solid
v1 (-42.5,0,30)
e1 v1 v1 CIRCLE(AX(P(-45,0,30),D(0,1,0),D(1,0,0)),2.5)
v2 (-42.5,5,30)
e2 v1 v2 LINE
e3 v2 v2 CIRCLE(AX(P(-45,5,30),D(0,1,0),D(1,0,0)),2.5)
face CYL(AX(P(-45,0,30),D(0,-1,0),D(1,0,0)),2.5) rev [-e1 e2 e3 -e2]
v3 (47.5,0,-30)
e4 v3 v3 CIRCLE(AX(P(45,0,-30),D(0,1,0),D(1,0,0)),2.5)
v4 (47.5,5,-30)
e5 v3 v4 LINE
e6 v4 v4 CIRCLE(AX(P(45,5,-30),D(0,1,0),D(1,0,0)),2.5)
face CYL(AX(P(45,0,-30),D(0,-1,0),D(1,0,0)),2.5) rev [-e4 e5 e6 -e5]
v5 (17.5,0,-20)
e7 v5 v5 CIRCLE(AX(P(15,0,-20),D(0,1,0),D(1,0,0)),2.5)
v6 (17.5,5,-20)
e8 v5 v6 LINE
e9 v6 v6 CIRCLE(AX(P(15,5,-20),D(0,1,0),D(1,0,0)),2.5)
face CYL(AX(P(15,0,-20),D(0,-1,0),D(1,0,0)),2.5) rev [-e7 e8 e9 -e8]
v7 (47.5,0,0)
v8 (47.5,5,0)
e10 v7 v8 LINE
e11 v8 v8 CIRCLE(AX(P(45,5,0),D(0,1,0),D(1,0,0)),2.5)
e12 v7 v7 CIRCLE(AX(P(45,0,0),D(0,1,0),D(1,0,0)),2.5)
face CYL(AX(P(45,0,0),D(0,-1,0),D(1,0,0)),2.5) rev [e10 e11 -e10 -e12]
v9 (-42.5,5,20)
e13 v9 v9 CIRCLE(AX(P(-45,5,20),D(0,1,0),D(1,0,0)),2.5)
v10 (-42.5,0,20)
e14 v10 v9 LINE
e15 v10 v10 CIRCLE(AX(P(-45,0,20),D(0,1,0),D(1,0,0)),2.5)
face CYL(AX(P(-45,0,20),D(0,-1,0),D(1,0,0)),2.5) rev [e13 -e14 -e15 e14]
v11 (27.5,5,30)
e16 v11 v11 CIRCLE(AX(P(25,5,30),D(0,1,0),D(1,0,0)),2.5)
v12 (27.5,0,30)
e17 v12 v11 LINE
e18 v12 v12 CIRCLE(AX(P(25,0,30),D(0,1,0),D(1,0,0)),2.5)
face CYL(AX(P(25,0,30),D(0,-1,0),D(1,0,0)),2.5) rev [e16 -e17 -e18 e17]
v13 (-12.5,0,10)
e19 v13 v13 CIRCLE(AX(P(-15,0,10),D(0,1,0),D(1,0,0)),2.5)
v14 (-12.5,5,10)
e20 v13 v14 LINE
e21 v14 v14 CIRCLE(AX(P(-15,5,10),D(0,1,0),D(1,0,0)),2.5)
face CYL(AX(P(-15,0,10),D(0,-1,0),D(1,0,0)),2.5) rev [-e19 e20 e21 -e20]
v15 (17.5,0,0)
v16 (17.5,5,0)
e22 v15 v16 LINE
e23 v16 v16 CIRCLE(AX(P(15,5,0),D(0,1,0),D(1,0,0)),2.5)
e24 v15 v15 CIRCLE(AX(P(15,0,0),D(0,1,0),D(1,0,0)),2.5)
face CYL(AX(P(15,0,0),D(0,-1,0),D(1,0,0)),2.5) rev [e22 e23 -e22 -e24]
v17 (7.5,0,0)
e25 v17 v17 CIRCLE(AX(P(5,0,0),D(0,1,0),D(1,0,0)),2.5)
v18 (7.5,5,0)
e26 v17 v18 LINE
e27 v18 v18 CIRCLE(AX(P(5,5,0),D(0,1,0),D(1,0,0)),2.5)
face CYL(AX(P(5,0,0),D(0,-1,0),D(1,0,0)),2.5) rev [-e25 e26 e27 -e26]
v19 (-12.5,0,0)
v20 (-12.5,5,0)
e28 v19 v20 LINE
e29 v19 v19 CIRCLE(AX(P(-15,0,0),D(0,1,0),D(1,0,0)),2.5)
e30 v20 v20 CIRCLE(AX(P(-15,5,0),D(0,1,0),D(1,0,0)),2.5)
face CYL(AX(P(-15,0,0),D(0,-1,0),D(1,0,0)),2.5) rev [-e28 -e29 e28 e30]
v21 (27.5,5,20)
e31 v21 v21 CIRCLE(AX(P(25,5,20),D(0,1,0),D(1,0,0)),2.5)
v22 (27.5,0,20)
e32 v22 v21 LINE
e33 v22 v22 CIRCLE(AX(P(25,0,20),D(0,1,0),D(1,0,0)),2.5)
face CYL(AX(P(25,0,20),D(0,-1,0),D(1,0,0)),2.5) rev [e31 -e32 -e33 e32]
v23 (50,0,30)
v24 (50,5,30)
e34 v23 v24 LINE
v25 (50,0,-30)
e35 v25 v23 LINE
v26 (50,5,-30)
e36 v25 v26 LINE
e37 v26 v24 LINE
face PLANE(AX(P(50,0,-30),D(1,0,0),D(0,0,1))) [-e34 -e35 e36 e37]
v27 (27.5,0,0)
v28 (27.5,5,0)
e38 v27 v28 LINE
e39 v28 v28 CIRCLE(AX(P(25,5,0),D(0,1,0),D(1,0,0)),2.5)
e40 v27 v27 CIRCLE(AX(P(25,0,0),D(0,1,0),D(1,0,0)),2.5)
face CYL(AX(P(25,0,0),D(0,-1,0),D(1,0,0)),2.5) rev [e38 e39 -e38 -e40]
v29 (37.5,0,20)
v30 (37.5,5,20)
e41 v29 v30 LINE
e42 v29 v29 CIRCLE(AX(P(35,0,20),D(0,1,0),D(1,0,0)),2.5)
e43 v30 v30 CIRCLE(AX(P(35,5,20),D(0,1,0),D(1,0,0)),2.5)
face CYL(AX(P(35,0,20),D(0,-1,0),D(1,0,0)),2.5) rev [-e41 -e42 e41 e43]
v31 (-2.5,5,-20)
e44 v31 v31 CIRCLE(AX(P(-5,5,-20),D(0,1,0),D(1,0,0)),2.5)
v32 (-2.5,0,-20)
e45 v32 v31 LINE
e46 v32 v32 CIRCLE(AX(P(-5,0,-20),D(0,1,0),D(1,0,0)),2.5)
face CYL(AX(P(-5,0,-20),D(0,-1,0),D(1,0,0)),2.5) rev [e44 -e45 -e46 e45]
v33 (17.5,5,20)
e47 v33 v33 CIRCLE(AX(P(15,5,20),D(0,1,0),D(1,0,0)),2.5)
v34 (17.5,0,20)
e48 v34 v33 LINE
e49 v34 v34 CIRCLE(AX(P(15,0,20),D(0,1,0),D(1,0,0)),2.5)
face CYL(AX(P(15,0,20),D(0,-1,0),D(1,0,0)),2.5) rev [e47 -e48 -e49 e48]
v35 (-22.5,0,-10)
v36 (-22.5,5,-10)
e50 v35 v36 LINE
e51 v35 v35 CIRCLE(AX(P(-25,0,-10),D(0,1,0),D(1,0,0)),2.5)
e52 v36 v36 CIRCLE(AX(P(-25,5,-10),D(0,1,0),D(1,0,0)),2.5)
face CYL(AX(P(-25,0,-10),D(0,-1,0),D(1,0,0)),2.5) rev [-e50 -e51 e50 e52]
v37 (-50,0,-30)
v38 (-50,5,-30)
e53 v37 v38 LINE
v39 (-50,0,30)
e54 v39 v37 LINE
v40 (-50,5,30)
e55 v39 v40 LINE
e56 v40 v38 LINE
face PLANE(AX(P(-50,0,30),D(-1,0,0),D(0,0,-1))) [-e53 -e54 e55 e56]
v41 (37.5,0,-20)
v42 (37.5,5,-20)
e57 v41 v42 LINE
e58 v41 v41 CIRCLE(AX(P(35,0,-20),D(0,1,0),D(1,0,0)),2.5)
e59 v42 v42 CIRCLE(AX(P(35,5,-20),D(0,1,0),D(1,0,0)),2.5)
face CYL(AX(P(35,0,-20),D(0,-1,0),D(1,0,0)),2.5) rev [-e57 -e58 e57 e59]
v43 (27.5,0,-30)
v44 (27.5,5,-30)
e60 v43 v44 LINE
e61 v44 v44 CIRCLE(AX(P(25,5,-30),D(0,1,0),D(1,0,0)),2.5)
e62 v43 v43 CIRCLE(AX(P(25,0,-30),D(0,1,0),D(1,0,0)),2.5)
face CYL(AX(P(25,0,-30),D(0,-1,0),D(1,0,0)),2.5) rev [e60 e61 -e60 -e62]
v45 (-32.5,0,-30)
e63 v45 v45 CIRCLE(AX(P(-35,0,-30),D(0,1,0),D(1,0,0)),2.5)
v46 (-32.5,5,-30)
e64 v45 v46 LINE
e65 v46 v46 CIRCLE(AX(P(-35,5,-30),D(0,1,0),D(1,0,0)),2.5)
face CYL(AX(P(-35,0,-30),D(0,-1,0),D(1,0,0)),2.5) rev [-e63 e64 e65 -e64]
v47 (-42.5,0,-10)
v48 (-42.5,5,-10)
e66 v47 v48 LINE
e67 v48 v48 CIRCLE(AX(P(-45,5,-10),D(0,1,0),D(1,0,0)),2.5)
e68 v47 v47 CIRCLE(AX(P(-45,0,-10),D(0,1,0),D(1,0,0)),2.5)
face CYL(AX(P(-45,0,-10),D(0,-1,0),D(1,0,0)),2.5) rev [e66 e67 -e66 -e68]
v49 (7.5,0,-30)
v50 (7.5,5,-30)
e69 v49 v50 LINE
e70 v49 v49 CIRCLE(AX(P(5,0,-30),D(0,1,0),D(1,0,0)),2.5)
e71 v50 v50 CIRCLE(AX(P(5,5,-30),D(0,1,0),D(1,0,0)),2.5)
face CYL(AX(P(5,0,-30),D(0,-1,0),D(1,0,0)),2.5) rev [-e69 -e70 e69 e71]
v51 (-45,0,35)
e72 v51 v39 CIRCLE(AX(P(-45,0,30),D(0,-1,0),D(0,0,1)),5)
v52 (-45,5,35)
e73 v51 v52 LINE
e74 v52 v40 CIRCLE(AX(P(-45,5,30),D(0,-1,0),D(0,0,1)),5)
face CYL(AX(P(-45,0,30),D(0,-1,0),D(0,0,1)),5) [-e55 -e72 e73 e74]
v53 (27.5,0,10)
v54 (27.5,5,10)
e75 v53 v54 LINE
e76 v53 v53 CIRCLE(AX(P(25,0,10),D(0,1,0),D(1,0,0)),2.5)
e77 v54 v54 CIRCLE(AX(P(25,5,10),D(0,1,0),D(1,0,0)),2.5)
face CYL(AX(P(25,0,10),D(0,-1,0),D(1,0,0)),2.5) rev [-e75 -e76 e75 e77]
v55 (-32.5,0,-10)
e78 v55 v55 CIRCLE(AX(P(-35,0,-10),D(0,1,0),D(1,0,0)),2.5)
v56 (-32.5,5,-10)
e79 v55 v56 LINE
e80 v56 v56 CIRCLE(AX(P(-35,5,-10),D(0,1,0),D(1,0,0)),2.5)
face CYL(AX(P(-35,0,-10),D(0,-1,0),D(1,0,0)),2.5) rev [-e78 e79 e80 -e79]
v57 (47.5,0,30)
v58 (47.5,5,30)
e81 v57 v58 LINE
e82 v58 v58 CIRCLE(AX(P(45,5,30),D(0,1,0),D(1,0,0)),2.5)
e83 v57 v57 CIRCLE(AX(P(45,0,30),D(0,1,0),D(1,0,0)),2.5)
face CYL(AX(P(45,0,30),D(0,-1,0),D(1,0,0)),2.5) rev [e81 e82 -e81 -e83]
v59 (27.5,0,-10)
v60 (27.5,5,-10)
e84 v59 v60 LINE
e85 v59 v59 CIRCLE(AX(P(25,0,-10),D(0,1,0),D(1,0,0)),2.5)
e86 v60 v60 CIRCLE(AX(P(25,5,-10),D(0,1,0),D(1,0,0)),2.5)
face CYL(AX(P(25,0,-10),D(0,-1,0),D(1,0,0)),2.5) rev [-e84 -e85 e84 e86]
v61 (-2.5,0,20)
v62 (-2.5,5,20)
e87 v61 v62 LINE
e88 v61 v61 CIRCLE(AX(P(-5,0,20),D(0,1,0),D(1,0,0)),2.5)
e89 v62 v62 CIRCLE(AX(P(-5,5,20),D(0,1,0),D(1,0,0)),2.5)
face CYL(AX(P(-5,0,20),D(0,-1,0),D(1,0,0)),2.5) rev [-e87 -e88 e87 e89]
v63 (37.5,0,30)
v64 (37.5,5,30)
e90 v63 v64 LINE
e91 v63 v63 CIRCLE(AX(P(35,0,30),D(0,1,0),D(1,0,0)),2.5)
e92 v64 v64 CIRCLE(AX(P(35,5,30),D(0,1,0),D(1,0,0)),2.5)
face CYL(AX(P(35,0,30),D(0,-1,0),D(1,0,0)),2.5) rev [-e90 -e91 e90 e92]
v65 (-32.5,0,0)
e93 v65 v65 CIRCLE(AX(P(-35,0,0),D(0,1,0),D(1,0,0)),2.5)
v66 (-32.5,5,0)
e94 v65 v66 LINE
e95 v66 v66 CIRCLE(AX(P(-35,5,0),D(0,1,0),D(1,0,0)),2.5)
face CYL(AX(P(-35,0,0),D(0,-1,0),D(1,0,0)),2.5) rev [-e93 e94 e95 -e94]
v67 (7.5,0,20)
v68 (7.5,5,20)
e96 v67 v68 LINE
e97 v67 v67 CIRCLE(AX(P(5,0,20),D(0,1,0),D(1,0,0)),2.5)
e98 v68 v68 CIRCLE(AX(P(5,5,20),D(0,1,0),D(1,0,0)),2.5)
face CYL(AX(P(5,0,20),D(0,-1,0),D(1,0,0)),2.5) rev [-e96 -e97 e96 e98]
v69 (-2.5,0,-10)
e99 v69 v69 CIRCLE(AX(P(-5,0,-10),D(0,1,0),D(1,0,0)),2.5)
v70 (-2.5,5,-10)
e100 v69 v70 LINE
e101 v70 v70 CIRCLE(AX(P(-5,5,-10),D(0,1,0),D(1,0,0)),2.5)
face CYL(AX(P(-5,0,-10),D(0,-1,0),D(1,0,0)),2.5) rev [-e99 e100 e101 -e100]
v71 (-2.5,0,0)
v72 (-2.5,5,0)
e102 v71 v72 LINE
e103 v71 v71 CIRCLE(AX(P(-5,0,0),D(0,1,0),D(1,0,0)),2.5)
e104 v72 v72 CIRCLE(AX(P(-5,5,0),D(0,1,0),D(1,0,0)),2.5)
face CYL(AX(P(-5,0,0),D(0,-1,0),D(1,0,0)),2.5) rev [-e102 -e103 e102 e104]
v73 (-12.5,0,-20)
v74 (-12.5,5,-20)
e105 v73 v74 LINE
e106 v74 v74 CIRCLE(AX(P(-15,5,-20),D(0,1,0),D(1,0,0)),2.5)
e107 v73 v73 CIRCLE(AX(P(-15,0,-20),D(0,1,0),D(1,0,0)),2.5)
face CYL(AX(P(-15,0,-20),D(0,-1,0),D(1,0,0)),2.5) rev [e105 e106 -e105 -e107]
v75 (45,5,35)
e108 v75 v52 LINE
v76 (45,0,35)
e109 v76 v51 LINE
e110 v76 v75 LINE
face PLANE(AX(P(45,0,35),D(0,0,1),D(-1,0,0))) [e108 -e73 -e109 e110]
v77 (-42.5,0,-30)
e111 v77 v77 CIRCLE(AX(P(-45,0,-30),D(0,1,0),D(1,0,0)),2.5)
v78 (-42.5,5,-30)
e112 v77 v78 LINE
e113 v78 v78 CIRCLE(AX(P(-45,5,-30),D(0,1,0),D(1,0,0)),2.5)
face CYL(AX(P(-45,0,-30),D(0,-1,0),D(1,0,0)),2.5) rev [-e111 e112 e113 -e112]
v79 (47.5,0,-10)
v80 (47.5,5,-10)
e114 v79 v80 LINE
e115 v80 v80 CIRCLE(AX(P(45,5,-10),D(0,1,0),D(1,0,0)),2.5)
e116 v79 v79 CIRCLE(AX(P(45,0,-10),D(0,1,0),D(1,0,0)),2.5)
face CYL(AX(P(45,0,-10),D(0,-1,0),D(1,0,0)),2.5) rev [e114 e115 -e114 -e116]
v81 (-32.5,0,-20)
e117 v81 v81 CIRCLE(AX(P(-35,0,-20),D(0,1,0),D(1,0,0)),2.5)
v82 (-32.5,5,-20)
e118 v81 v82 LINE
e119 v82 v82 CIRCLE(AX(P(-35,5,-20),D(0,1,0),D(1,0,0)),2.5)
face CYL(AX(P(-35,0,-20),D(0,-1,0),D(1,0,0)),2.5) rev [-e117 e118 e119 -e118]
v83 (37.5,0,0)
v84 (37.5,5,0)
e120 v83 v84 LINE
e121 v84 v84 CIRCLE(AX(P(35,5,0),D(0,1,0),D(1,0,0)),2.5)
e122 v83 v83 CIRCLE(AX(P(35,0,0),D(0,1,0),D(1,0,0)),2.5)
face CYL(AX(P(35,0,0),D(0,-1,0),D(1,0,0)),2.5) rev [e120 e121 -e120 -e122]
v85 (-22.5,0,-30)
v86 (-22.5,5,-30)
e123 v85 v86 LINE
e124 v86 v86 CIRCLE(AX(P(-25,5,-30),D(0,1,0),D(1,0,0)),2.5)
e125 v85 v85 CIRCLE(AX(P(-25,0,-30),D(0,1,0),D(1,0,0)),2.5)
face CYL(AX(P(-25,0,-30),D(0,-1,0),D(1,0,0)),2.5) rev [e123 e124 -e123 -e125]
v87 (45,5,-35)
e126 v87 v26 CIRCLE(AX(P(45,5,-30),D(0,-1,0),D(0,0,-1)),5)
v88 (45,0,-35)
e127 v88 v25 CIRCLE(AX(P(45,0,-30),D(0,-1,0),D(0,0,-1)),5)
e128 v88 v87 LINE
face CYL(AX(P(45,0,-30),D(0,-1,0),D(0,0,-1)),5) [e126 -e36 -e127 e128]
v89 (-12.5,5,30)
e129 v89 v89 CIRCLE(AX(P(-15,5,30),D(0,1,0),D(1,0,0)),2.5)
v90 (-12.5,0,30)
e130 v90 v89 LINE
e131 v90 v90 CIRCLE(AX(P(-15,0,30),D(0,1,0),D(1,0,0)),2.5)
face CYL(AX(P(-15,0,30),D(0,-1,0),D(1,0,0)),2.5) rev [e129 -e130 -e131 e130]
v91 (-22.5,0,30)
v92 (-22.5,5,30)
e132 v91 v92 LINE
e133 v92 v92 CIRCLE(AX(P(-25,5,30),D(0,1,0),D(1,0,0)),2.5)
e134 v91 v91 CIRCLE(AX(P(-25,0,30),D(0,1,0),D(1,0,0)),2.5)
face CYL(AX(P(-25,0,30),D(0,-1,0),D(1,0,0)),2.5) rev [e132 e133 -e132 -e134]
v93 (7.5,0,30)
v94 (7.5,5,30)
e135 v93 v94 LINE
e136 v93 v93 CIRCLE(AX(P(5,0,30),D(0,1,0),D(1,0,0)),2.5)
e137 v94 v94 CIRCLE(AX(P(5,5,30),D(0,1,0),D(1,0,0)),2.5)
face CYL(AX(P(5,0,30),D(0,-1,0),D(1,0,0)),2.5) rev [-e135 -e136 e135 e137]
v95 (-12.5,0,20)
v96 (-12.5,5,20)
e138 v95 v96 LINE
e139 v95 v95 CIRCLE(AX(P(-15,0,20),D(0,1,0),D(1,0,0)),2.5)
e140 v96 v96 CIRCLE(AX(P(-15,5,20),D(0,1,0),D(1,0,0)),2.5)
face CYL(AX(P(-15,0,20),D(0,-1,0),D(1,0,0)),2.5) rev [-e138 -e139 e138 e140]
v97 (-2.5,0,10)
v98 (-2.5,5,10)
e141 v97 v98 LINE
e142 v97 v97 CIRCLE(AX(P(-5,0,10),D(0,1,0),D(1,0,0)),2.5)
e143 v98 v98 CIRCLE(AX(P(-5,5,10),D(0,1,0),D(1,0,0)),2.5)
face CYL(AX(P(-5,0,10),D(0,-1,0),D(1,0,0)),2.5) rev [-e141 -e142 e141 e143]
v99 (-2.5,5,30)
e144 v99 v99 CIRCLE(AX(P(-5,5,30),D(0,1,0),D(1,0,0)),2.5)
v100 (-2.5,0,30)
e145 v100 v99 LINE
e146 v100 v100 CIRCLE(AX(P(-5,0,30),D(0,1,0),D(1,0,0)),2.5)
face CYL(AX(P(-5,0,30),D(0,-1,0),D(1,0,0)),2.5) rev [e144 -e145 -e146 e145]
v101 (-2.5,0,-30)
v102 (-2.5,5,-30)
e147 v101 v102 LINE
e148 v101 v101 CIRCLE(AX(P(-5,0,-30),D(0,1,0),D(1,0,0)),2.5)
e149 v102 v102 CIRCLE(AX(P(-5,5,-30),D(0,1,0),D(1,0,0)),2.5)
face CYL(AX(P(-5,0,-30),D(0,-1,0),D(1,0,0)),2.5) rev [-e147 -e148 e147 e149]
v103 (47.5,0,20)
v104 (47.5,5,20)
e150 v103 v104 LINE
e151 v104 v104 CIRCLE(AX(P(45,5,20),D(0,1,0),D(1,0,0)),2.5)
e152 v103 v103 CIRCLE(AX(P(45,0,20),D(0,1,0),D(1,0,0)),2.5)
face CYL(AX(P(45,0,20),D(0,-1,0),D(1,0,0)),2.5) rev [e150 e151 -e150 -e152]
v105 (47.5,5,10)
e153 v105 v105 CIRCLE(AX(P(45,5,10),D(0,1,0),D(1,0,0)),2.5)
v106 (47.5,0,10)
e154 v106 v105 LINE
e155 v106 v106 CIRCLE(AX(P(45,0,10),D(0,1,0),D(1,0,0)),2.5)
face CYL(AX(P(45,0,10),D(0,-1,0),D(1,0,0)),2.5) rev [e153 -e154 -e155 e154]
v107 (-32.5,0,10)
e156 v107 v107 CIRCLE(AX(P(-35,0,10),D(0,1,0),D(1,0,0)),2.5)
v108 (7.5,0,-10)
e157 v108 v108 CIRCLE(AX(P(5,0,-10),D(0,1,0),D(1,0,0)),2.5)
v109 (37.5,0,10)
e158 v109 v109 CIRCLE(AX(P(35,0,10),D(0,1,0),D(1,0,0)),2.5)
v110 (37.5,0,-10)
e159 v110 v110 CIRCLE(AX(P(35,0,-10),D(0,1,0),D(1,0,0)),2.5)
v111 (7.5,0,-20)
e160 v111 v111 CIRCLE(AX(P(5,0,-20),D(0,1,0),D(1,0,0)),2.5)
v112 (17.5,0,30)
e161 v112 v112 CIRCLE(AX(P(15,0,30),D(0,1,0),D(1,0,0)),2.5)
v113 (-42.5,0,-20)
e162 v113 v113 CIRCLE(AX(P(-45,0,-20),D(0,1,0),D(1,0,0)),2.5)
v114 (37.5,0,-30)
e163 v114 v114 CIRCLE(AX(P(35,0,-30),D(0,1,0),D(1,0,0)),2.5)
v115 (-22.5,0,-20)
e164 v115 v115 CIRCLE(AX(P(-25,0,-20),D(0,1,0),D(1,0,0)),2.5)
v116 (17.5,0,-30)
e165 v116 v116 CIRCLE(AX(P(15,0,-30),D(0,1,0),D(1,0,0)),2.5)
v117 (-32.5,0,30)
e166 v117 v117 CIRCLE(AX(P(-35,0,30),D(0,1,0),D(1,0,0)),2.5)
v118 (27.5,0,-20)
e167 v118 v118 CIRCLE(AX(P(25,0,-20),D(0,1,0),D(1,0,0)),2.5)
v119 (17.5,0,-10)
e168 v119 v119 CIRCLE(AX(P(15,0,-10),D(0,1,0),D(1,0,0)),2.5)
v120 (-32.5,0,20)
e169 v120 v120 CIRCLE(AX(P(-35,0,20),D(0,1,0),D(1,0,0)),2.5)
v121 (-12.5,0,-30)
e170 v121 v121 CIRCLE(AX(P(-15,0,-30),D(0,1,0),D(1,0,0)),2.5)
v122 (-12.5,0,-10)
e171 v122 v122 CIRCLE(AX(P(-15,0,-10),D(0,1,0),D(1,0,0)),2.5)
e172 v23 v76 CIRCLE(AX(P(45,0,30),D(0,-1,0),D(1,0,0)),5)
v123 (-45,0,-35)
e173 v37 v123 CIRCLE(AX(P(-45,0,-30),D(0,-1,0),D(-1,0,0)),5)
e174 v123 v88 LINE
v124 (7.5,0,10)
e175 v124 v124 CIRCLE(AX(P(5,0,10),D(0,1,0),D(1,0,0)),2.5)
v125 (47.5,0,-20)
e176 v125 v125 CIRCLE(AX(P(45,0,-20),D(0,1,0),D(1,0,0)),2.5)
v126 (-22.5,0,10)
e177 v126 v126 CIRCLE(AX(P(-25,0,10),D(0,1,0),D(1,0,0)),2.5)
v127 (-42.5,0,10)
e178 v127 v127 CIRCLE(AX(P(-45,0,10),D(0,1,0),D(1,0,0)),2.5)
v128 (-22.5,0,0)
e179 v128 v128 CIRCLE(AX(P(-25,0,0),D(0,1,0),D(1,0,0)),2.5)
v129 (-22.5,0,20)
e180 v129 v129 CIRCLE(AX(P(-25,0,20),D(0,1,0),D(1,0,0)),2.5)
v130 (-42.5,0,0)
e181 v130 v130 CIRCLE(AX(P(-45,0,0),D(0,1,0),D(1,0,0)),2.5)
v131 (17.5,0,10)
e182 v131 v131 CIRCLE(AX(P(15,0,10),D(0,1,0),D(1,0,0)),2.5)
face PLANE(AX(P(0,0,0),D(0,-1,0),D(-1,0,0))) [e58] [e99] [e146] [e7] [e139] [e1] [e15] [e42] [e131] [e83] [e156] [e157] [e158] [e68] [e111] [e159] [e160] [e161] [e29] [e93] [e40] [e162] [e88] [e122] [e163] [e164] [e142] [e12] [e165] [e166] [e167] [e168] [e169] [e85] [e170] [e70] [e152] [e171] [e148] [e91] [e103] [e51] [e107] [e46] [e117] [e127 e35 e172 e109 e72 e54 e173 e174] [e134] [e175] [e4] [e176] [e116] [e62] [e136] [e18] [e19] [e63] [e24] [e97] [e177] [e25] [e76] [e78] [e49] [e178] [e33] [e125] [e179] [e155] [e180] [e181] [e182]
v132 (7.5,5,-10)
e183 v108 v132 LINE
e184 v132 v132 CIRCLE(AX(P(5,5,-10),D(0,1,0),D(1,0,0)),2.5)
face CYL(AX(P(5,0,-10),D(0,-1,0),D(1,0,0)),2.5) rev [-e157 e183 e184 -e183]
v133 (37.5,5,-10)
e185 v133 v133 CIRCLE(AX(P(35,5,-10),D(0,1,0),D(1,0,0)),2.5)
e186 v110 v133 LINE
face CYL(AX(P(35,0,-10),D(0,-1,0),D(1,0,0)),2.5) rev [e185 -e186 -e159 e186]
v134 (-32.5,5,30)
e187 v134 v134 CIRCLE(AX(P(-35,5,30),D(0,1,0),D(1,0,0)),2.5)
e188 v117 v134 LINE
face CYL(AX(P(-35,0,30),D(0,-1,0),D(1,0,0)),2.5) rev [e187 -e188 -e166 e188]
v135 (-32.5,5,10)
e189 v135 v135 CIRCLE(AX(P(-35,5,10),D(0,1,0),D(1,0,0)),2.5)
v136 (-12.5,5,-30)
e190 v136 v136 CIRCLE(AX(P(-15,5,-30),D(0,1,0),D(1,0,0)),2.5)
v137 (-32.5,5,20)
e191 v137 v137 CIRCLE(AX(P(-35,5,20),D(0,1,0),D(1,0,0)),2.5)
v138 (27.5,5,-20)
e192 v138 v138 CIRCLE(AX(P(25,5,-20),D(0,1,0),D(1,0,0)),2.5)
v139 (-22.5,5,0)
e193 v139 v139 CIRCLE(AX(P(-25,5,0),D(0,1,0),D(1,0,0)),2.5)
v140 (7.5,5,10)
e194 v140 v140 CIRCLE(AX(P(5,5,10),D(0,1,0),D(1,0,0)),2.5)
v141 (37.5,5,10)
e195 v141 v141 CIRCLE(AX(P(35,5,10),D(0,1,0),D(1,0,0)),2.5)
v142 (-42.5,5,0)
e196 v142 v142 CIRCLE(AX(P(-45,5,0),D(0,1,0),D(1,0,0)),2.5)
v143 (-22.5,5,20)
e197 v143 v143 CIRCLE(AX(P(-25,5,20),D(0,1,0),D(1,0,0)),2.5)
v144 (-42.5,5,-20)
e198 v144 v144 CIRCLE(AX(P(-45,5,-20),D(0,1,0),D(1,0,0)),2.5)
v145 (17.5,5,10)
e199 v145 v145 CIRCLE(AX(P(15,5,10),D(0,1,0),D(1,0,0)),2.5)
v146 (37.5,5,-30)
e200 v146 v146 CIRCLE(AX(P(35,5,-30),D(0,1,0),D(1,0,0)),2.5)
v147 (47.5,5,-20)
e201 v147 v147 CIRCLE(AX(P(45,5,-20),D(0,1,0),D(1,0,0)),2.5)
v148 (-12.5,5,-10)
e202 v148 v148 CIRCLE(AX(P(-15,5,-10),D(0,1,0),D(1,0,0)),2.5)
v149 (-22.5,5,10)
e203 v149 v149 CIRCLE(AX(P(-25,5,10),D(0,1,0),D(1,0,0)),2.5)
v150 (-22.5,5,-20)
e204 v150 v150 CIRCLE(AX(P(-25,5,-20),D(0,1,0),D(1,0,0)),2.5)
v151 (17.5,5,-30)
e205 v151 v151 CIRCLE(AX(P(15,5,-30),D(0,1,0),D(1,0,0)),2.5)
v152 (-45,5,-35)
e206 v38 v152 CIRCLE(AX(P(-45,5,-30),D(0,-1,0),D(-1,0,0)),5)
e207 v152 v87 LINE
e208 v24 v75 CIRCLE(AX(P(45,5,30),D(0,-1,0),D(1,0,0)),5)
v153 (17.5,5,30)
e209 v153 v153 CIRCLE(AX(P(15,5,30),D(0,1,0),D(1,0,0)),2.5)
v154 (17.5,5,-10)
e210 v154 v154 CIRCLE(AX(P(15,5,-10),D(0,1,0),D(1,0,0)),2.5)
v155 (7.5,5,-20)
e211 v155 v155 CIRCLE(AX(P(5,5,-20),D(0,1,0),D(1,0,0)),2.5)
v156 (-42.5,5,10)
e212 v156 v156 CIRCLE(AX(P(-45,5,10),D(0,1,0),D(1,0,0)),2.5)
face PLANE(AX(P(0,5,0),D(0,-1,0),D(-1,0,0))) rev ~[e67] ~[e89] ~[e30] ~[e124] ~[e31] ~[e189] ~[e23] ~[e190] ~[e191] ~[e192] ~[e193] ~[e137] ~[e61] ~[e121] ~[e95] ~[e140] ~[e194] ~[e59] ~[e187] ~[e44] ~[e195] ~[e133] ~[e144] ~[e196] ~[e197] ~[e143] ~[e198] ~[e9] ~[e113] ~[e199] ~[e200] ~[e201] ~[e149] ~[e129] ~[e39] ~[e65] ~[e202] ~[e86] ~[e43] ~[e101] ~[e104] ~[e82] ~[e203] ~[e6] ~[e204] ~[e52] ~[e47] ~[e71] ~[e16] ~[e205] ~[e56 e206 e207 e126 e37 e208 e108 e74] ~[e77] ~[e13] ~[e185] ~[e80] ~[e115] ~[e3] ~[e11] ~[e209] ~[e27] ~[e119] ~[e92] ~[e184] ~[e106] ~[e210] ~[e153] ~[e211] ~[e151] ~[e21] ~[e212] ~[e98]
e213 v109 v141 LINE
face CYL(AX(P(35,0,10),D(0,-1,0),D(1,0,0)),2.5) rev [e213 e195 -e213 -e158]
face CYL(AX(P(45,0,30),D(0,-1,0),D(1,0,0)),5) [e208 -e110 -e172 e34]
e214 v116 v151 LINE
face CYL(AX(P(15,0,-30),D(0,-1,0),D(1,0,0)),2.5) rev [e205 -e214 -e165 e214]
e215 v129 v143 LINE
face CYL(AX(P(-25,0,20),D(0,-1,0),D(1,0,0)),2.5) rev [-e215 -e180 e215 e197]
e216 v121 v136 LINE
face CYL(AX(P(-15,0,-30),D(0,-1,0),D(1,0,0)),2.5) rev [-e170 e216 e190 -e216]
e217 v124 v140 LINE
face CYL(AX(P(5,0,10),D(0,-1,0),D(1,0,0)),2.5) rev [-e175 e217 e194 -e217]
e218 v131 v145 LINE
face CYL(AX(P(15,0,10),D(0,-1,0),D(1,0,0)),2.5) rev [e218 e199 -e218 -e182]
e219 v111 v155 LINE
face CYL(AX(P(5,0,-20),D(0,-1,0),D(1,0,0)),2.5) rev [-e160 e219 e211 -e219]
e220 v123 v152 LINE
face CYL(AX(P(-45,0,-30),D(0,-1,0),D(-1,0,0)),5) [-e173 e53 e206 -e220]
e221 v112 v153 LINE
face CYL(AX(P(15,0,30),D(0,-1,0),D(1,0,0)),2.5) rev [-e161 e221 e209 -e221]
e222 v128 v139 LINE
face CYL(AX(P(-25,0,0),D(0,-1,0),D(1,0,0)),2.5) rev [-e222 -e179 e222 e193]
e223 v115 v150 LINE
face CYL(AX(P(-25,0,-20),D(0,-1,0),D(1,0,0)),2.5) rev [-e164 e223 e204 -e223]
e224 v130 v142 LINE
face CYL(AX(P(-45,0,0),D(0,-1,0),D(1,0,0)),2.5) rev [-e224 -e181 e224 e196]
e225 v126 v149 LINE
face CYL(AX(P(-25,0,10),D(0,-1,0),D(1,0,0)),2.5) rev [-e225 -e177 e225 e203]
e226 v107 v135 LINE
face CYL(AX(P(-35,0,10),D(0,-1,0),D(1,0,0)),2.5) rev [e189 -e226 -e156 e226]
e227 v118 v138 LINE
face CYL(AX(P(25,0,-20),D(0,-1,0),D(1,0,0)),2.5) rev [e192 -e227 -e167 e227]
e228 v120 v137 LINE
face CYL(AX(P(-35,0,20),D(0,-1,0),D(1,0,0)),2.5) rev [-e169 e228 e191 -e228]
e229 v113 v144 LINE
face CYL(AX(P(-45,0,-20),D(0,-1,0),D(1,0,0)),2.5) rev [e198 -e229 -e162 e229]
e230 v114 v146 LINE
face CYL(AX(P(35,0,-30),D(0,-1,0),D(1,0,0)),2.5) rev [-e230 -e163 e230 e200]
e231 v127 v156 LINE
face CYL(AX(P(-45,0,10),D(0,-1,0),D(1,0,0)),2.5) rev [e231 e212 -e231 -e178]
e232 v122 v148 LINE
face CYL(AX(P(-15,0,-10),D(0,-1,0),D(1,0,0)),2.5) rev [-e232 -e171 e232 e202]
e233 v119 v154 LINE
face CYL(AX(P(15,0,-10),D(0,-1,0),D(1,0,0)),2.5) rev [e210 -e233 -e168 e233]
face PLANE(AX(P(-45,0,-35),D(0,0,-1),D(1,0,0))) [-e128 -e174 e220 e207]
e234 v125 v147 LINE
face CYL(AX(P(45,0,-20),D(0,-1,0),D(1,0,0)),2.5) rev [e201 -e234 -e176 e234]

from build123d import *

# Parameters (mm, degrees)
SKETCH1_R           = 2.5
BOSS_EXTRUDE1_DEPTH = 5


with BuildPart() as part:
    # Sketch1 → Boss-Extrude1 (new body)
    with BuildSketch(Plane(origin=(0, 0, 0), x_dir=(1, 0, 0), z_dir=(0, 1, 0))):
        with BuildLine():
            Line((45, -35), (-45, -35))
            ThreePointArc((-45, -35), (-48.535533906, -33.535533906), (-50, -30))
            Line((-50, -30), (-50, 30))
            ThreePointArc((-50, 30), (-48.535533906, 33.535533906), (-45, 35))
            Line((-45, 35), (45, 35))
            ThreePointArc((45, 35), (48.535533906, 33.535533906), (50, 30))
            Line((50, 30), (50, -30))
            ThreePointArc((50, -30), (48.535533906, -33.535533906), (45, -35))
        make_face()
        with Locations((-45, 30)):
            Circle(SKETCH1_R, mode=Mode.SUBTRACT)
        with Locations((-35, 30)):
            Circle(SKETCH1_R, mode=Mode.SUBTRACT)
        with Locations((-25, 30)):
            Circle(SKETCH1_R, mode=Mode.SUBTRACT)
        with Locations((-15, 30)):
            Circle(SKETCH1_R, mode=Mode.SUBTRACT)
        with Locations((-5, 30)):
            Circle(SKETCH1_R, mode=Mode.SUBTRACT)
        with Locations((5, 30)):
            Circle(SKETCH1_R, mode=Mode.SUBTRACT)
        with Locations((15, 30)):
            Circle(SKETCH1_R, mode=Mode.SUBTRACT)
        with Locations((25, 30)):
            Circle(SKETCH1_R, mode=Mode.SUBTRACT)
        with Locations((35, 30)):
            Circle(SKETCH1_R, mode=Mode.SUBTRACT)
        with Locations((45, 30)):
            Circle(SKETCH1_R, mode=Mode.SUBTRACT)
        with Locations((-35, 20)):
            Circle(SKETCH1_R, mode=Mode.SUBTRACT)
        with Locations((-25, 20)):
            Circle(SKETCH1_R, mode=Mode.SUBTRACT)
        with Locations((-15, 20)):
            Circle(SKETCH1_R, mode=Mode.SUBTRACT)
        with Locations((-5, 20)):
            Circle(SKETCH1_R, mode=Mode.SUBTRACT)
        with Locations((5, 20)):
            Circle(SKETCH1_R, mode=Mode.SUBTRACT)
        with Locations((15, 20)):
            Circle(SKETCH1_R, mode=Mode.SUBTRACT)
        with Locations((25, 20)):
            Circle(SKETCH1_R, mode=Mode.SUBTRACT)
        with Locations((35, 20)):
            Circle(SKETCH1_R, mode=Mode.SUBTRACT)
        with Locations((45, 20)):
            Circle(SKETCH1_R, mode=Mode.SUBTRACT)
        with Locations((-35, 10)):
            Circle(SKETCH1_R, mode=Mode.SUBTRACT)
        with Locations((-25, 10)):
            Circle(SKETCH1_R, mode=Mode.SUBTRACT)
        with Locations((-15, 10)):
            Circle(SKETCH1_R, mode=Mode.SUBTRACT)
        with Locations((-5, 10)):
            Circle(SKETCH1_R, mode=Mode.SUBTRACT)
        with Locations((5, 10)):
            Circle(SKETCH1_R, mode=Mode.SUBTRACT)
        with Locations((15, 10)):
            Circle(SKETCH1_R, mode=Mode.SUBTRACT)
        with Locations((25, 10)):
            Circle(SKETCH1_R, mode=Mode.SUBTRACT)
        with Locations((35, 10)):
            Circle(SKETCH1_R, mode=Mode.SUBTRACT)
        with Locations((45, 10)):
            Circle(SKETCH1_R, mode=Mode.SUBTRACT)
        with Locations((-35, 0)):
            Circle(SKETCH1_R, mode=Mode.SUBTRACT)
        with Locations((-25, 0)):
            Circle(SKETCH1_R, mode=Mode.SUBTRACT)
        with Locations((-15, 0)):
            Circle(SKETCH1_R, mode=Mode.SUBTRACT)
        with Locations((-5, 0)):
            Circle(SKETCH1_R, mode=Mode.SUBTRACT)
        with Locations((5, 0)):
            Circle(SKETCH1_R, mode=Mode.SUBTRACT)
        with Locations((15, 0)):
            Circle(SKETCH1_R, mode=Mode.SUBTRACT)
        with Locations((25, 0)):
            Circle(SKETCH1_R, mode=Mode.SUBTRACT)
        with Locations((35, 0)):
            Circle(SKETCH1_R, mode=Mode.SUBTRACT)
        with Locations((45, 0)):
            Circle(SKETCH1_R, mode=Mode.SUBTRACT)
        with Locations((-35, -10)):
            Circle(SKETCH1_R, mode=Mode.SUBTRACT)
        with Locations((-25, -10)):
            Circle(SKETCH1_R, mode=Mode.SUBTRACT)
        with Locations((-15, -10)):
            Circle(SKETCH1_R, mode=Mode.SUBTRACT)
        with Locations((-5, -10)):
            Circle(SKETCH1_R, mode=Mode.SUBTRACT)
        with Locations((5, -10)):
            Circle(SKETCH1_R, mode=Mode.SUBTRACT)
        with Locations((15, -10)):
            Circle(SKETCH1_R, mode=Mode.SUBTRACT)
        with Locations((25, -10)):
            Circle(SKETCH1_R, mode=Mode.SUBTRACT)
        with Locations((35, -10)):
            Circle(SKETCH1_R, mode=Mode.SUBTRACT)
        with Locations((45, -10)):
            Circle(SKETCH1_R, mode=Mode.SUBTRACT)
        with Locations((-35, -20)):
            Circle(SKETCH1_R, mode=Mode.SUBTRACT)
        with Locations((-25, -20)):
            Circle(SKETCH1_R, mode=Mode.SUBTRACT)
        with Locations((-15, -20)):
            Circle(SKETCH1_R, mode=Mode.SUBTRACT)
        with Locations((-5, -20)):
            Circle(SKETCH1_R, mode=Mode.SUBTRACT)
        with Locations((5, -20)):
            Circle(SKETCH1_R, mode=Mode.SUBTRACT)
        with Locations((15, -20)):
            Circle(SKETCH1_R, mode=Mode.SUBTRACT)
        with Locations((25, -20)):
            Circle(SKETCH1_R, mode=Mode.SUBTRACT)
        with Locations((35, -20)):
            Circle(SKETCH1_R, mode=Mode.SUBTRACT)
        with Locations((45, -20)):
            Circle(SKETCH1_R, mode=Mode.SUBTRACT)
        with Locations((-35, -30)):
            Circle(SKETCH1_R, mode=Mode.SUBTRACT)
        with Locations((-25, -30)):
            Circle(SKETCH1_R, mode=Mode.SUBTRACT)
        with Locations((-15, -30)):
            Circle(SKETCH1_R, mode=Mode.SUBTRACT)
        with Locations((-5, -30)):
            Circle(SKETCH1_R, mode=Mode.SUBTRACT)
        with Locations((5, -30)):
            Circle(SKETCH1_R, mode=Mode.SUBTRACT)
        with Locations((15, -30)):
            Circle(SKETCH1_R, mode=Mode.SUBTRACT)
        with Locations((25, -30)):
            Circle(SKETCH1_R, mode=Mode.SUBTRACT)
        with Locations((35, -30)):
            Circle(SKETCH1_R, mode=Mode.SUBTRACT)
        with Locations((45, -30)):
            Circle(SKETCH1_R, mode=Mode.SUBTRACT)
        with Locations((-45, 20)):
            Circle(SKETCH1_R, mode=Mode.SUBTRACT)
        with Locations((-45, 10)):
            Circle(SKETCH1_R, mode=Mode.SUBTRACT)
        with Locations((-45, 0)):
            Circle(SKETCH1_R, mode=Mode.SUBTRACT)
        with Locations((-45, -10)):
            Circle(SKETCH1_R, mode=Mode.SUBTRACT)
        with Locations((-45, -20)):
            Circle(SKETCH1_R, mode=Mode.SUBTRACT)
        with Locations((-45, -30)):
            Circle(SKETCH1_R, mode=Mode.SUBTRACT)
    extrude(amount=BOSS_EXTRUDE1_DEPTH)


solid = part.part
